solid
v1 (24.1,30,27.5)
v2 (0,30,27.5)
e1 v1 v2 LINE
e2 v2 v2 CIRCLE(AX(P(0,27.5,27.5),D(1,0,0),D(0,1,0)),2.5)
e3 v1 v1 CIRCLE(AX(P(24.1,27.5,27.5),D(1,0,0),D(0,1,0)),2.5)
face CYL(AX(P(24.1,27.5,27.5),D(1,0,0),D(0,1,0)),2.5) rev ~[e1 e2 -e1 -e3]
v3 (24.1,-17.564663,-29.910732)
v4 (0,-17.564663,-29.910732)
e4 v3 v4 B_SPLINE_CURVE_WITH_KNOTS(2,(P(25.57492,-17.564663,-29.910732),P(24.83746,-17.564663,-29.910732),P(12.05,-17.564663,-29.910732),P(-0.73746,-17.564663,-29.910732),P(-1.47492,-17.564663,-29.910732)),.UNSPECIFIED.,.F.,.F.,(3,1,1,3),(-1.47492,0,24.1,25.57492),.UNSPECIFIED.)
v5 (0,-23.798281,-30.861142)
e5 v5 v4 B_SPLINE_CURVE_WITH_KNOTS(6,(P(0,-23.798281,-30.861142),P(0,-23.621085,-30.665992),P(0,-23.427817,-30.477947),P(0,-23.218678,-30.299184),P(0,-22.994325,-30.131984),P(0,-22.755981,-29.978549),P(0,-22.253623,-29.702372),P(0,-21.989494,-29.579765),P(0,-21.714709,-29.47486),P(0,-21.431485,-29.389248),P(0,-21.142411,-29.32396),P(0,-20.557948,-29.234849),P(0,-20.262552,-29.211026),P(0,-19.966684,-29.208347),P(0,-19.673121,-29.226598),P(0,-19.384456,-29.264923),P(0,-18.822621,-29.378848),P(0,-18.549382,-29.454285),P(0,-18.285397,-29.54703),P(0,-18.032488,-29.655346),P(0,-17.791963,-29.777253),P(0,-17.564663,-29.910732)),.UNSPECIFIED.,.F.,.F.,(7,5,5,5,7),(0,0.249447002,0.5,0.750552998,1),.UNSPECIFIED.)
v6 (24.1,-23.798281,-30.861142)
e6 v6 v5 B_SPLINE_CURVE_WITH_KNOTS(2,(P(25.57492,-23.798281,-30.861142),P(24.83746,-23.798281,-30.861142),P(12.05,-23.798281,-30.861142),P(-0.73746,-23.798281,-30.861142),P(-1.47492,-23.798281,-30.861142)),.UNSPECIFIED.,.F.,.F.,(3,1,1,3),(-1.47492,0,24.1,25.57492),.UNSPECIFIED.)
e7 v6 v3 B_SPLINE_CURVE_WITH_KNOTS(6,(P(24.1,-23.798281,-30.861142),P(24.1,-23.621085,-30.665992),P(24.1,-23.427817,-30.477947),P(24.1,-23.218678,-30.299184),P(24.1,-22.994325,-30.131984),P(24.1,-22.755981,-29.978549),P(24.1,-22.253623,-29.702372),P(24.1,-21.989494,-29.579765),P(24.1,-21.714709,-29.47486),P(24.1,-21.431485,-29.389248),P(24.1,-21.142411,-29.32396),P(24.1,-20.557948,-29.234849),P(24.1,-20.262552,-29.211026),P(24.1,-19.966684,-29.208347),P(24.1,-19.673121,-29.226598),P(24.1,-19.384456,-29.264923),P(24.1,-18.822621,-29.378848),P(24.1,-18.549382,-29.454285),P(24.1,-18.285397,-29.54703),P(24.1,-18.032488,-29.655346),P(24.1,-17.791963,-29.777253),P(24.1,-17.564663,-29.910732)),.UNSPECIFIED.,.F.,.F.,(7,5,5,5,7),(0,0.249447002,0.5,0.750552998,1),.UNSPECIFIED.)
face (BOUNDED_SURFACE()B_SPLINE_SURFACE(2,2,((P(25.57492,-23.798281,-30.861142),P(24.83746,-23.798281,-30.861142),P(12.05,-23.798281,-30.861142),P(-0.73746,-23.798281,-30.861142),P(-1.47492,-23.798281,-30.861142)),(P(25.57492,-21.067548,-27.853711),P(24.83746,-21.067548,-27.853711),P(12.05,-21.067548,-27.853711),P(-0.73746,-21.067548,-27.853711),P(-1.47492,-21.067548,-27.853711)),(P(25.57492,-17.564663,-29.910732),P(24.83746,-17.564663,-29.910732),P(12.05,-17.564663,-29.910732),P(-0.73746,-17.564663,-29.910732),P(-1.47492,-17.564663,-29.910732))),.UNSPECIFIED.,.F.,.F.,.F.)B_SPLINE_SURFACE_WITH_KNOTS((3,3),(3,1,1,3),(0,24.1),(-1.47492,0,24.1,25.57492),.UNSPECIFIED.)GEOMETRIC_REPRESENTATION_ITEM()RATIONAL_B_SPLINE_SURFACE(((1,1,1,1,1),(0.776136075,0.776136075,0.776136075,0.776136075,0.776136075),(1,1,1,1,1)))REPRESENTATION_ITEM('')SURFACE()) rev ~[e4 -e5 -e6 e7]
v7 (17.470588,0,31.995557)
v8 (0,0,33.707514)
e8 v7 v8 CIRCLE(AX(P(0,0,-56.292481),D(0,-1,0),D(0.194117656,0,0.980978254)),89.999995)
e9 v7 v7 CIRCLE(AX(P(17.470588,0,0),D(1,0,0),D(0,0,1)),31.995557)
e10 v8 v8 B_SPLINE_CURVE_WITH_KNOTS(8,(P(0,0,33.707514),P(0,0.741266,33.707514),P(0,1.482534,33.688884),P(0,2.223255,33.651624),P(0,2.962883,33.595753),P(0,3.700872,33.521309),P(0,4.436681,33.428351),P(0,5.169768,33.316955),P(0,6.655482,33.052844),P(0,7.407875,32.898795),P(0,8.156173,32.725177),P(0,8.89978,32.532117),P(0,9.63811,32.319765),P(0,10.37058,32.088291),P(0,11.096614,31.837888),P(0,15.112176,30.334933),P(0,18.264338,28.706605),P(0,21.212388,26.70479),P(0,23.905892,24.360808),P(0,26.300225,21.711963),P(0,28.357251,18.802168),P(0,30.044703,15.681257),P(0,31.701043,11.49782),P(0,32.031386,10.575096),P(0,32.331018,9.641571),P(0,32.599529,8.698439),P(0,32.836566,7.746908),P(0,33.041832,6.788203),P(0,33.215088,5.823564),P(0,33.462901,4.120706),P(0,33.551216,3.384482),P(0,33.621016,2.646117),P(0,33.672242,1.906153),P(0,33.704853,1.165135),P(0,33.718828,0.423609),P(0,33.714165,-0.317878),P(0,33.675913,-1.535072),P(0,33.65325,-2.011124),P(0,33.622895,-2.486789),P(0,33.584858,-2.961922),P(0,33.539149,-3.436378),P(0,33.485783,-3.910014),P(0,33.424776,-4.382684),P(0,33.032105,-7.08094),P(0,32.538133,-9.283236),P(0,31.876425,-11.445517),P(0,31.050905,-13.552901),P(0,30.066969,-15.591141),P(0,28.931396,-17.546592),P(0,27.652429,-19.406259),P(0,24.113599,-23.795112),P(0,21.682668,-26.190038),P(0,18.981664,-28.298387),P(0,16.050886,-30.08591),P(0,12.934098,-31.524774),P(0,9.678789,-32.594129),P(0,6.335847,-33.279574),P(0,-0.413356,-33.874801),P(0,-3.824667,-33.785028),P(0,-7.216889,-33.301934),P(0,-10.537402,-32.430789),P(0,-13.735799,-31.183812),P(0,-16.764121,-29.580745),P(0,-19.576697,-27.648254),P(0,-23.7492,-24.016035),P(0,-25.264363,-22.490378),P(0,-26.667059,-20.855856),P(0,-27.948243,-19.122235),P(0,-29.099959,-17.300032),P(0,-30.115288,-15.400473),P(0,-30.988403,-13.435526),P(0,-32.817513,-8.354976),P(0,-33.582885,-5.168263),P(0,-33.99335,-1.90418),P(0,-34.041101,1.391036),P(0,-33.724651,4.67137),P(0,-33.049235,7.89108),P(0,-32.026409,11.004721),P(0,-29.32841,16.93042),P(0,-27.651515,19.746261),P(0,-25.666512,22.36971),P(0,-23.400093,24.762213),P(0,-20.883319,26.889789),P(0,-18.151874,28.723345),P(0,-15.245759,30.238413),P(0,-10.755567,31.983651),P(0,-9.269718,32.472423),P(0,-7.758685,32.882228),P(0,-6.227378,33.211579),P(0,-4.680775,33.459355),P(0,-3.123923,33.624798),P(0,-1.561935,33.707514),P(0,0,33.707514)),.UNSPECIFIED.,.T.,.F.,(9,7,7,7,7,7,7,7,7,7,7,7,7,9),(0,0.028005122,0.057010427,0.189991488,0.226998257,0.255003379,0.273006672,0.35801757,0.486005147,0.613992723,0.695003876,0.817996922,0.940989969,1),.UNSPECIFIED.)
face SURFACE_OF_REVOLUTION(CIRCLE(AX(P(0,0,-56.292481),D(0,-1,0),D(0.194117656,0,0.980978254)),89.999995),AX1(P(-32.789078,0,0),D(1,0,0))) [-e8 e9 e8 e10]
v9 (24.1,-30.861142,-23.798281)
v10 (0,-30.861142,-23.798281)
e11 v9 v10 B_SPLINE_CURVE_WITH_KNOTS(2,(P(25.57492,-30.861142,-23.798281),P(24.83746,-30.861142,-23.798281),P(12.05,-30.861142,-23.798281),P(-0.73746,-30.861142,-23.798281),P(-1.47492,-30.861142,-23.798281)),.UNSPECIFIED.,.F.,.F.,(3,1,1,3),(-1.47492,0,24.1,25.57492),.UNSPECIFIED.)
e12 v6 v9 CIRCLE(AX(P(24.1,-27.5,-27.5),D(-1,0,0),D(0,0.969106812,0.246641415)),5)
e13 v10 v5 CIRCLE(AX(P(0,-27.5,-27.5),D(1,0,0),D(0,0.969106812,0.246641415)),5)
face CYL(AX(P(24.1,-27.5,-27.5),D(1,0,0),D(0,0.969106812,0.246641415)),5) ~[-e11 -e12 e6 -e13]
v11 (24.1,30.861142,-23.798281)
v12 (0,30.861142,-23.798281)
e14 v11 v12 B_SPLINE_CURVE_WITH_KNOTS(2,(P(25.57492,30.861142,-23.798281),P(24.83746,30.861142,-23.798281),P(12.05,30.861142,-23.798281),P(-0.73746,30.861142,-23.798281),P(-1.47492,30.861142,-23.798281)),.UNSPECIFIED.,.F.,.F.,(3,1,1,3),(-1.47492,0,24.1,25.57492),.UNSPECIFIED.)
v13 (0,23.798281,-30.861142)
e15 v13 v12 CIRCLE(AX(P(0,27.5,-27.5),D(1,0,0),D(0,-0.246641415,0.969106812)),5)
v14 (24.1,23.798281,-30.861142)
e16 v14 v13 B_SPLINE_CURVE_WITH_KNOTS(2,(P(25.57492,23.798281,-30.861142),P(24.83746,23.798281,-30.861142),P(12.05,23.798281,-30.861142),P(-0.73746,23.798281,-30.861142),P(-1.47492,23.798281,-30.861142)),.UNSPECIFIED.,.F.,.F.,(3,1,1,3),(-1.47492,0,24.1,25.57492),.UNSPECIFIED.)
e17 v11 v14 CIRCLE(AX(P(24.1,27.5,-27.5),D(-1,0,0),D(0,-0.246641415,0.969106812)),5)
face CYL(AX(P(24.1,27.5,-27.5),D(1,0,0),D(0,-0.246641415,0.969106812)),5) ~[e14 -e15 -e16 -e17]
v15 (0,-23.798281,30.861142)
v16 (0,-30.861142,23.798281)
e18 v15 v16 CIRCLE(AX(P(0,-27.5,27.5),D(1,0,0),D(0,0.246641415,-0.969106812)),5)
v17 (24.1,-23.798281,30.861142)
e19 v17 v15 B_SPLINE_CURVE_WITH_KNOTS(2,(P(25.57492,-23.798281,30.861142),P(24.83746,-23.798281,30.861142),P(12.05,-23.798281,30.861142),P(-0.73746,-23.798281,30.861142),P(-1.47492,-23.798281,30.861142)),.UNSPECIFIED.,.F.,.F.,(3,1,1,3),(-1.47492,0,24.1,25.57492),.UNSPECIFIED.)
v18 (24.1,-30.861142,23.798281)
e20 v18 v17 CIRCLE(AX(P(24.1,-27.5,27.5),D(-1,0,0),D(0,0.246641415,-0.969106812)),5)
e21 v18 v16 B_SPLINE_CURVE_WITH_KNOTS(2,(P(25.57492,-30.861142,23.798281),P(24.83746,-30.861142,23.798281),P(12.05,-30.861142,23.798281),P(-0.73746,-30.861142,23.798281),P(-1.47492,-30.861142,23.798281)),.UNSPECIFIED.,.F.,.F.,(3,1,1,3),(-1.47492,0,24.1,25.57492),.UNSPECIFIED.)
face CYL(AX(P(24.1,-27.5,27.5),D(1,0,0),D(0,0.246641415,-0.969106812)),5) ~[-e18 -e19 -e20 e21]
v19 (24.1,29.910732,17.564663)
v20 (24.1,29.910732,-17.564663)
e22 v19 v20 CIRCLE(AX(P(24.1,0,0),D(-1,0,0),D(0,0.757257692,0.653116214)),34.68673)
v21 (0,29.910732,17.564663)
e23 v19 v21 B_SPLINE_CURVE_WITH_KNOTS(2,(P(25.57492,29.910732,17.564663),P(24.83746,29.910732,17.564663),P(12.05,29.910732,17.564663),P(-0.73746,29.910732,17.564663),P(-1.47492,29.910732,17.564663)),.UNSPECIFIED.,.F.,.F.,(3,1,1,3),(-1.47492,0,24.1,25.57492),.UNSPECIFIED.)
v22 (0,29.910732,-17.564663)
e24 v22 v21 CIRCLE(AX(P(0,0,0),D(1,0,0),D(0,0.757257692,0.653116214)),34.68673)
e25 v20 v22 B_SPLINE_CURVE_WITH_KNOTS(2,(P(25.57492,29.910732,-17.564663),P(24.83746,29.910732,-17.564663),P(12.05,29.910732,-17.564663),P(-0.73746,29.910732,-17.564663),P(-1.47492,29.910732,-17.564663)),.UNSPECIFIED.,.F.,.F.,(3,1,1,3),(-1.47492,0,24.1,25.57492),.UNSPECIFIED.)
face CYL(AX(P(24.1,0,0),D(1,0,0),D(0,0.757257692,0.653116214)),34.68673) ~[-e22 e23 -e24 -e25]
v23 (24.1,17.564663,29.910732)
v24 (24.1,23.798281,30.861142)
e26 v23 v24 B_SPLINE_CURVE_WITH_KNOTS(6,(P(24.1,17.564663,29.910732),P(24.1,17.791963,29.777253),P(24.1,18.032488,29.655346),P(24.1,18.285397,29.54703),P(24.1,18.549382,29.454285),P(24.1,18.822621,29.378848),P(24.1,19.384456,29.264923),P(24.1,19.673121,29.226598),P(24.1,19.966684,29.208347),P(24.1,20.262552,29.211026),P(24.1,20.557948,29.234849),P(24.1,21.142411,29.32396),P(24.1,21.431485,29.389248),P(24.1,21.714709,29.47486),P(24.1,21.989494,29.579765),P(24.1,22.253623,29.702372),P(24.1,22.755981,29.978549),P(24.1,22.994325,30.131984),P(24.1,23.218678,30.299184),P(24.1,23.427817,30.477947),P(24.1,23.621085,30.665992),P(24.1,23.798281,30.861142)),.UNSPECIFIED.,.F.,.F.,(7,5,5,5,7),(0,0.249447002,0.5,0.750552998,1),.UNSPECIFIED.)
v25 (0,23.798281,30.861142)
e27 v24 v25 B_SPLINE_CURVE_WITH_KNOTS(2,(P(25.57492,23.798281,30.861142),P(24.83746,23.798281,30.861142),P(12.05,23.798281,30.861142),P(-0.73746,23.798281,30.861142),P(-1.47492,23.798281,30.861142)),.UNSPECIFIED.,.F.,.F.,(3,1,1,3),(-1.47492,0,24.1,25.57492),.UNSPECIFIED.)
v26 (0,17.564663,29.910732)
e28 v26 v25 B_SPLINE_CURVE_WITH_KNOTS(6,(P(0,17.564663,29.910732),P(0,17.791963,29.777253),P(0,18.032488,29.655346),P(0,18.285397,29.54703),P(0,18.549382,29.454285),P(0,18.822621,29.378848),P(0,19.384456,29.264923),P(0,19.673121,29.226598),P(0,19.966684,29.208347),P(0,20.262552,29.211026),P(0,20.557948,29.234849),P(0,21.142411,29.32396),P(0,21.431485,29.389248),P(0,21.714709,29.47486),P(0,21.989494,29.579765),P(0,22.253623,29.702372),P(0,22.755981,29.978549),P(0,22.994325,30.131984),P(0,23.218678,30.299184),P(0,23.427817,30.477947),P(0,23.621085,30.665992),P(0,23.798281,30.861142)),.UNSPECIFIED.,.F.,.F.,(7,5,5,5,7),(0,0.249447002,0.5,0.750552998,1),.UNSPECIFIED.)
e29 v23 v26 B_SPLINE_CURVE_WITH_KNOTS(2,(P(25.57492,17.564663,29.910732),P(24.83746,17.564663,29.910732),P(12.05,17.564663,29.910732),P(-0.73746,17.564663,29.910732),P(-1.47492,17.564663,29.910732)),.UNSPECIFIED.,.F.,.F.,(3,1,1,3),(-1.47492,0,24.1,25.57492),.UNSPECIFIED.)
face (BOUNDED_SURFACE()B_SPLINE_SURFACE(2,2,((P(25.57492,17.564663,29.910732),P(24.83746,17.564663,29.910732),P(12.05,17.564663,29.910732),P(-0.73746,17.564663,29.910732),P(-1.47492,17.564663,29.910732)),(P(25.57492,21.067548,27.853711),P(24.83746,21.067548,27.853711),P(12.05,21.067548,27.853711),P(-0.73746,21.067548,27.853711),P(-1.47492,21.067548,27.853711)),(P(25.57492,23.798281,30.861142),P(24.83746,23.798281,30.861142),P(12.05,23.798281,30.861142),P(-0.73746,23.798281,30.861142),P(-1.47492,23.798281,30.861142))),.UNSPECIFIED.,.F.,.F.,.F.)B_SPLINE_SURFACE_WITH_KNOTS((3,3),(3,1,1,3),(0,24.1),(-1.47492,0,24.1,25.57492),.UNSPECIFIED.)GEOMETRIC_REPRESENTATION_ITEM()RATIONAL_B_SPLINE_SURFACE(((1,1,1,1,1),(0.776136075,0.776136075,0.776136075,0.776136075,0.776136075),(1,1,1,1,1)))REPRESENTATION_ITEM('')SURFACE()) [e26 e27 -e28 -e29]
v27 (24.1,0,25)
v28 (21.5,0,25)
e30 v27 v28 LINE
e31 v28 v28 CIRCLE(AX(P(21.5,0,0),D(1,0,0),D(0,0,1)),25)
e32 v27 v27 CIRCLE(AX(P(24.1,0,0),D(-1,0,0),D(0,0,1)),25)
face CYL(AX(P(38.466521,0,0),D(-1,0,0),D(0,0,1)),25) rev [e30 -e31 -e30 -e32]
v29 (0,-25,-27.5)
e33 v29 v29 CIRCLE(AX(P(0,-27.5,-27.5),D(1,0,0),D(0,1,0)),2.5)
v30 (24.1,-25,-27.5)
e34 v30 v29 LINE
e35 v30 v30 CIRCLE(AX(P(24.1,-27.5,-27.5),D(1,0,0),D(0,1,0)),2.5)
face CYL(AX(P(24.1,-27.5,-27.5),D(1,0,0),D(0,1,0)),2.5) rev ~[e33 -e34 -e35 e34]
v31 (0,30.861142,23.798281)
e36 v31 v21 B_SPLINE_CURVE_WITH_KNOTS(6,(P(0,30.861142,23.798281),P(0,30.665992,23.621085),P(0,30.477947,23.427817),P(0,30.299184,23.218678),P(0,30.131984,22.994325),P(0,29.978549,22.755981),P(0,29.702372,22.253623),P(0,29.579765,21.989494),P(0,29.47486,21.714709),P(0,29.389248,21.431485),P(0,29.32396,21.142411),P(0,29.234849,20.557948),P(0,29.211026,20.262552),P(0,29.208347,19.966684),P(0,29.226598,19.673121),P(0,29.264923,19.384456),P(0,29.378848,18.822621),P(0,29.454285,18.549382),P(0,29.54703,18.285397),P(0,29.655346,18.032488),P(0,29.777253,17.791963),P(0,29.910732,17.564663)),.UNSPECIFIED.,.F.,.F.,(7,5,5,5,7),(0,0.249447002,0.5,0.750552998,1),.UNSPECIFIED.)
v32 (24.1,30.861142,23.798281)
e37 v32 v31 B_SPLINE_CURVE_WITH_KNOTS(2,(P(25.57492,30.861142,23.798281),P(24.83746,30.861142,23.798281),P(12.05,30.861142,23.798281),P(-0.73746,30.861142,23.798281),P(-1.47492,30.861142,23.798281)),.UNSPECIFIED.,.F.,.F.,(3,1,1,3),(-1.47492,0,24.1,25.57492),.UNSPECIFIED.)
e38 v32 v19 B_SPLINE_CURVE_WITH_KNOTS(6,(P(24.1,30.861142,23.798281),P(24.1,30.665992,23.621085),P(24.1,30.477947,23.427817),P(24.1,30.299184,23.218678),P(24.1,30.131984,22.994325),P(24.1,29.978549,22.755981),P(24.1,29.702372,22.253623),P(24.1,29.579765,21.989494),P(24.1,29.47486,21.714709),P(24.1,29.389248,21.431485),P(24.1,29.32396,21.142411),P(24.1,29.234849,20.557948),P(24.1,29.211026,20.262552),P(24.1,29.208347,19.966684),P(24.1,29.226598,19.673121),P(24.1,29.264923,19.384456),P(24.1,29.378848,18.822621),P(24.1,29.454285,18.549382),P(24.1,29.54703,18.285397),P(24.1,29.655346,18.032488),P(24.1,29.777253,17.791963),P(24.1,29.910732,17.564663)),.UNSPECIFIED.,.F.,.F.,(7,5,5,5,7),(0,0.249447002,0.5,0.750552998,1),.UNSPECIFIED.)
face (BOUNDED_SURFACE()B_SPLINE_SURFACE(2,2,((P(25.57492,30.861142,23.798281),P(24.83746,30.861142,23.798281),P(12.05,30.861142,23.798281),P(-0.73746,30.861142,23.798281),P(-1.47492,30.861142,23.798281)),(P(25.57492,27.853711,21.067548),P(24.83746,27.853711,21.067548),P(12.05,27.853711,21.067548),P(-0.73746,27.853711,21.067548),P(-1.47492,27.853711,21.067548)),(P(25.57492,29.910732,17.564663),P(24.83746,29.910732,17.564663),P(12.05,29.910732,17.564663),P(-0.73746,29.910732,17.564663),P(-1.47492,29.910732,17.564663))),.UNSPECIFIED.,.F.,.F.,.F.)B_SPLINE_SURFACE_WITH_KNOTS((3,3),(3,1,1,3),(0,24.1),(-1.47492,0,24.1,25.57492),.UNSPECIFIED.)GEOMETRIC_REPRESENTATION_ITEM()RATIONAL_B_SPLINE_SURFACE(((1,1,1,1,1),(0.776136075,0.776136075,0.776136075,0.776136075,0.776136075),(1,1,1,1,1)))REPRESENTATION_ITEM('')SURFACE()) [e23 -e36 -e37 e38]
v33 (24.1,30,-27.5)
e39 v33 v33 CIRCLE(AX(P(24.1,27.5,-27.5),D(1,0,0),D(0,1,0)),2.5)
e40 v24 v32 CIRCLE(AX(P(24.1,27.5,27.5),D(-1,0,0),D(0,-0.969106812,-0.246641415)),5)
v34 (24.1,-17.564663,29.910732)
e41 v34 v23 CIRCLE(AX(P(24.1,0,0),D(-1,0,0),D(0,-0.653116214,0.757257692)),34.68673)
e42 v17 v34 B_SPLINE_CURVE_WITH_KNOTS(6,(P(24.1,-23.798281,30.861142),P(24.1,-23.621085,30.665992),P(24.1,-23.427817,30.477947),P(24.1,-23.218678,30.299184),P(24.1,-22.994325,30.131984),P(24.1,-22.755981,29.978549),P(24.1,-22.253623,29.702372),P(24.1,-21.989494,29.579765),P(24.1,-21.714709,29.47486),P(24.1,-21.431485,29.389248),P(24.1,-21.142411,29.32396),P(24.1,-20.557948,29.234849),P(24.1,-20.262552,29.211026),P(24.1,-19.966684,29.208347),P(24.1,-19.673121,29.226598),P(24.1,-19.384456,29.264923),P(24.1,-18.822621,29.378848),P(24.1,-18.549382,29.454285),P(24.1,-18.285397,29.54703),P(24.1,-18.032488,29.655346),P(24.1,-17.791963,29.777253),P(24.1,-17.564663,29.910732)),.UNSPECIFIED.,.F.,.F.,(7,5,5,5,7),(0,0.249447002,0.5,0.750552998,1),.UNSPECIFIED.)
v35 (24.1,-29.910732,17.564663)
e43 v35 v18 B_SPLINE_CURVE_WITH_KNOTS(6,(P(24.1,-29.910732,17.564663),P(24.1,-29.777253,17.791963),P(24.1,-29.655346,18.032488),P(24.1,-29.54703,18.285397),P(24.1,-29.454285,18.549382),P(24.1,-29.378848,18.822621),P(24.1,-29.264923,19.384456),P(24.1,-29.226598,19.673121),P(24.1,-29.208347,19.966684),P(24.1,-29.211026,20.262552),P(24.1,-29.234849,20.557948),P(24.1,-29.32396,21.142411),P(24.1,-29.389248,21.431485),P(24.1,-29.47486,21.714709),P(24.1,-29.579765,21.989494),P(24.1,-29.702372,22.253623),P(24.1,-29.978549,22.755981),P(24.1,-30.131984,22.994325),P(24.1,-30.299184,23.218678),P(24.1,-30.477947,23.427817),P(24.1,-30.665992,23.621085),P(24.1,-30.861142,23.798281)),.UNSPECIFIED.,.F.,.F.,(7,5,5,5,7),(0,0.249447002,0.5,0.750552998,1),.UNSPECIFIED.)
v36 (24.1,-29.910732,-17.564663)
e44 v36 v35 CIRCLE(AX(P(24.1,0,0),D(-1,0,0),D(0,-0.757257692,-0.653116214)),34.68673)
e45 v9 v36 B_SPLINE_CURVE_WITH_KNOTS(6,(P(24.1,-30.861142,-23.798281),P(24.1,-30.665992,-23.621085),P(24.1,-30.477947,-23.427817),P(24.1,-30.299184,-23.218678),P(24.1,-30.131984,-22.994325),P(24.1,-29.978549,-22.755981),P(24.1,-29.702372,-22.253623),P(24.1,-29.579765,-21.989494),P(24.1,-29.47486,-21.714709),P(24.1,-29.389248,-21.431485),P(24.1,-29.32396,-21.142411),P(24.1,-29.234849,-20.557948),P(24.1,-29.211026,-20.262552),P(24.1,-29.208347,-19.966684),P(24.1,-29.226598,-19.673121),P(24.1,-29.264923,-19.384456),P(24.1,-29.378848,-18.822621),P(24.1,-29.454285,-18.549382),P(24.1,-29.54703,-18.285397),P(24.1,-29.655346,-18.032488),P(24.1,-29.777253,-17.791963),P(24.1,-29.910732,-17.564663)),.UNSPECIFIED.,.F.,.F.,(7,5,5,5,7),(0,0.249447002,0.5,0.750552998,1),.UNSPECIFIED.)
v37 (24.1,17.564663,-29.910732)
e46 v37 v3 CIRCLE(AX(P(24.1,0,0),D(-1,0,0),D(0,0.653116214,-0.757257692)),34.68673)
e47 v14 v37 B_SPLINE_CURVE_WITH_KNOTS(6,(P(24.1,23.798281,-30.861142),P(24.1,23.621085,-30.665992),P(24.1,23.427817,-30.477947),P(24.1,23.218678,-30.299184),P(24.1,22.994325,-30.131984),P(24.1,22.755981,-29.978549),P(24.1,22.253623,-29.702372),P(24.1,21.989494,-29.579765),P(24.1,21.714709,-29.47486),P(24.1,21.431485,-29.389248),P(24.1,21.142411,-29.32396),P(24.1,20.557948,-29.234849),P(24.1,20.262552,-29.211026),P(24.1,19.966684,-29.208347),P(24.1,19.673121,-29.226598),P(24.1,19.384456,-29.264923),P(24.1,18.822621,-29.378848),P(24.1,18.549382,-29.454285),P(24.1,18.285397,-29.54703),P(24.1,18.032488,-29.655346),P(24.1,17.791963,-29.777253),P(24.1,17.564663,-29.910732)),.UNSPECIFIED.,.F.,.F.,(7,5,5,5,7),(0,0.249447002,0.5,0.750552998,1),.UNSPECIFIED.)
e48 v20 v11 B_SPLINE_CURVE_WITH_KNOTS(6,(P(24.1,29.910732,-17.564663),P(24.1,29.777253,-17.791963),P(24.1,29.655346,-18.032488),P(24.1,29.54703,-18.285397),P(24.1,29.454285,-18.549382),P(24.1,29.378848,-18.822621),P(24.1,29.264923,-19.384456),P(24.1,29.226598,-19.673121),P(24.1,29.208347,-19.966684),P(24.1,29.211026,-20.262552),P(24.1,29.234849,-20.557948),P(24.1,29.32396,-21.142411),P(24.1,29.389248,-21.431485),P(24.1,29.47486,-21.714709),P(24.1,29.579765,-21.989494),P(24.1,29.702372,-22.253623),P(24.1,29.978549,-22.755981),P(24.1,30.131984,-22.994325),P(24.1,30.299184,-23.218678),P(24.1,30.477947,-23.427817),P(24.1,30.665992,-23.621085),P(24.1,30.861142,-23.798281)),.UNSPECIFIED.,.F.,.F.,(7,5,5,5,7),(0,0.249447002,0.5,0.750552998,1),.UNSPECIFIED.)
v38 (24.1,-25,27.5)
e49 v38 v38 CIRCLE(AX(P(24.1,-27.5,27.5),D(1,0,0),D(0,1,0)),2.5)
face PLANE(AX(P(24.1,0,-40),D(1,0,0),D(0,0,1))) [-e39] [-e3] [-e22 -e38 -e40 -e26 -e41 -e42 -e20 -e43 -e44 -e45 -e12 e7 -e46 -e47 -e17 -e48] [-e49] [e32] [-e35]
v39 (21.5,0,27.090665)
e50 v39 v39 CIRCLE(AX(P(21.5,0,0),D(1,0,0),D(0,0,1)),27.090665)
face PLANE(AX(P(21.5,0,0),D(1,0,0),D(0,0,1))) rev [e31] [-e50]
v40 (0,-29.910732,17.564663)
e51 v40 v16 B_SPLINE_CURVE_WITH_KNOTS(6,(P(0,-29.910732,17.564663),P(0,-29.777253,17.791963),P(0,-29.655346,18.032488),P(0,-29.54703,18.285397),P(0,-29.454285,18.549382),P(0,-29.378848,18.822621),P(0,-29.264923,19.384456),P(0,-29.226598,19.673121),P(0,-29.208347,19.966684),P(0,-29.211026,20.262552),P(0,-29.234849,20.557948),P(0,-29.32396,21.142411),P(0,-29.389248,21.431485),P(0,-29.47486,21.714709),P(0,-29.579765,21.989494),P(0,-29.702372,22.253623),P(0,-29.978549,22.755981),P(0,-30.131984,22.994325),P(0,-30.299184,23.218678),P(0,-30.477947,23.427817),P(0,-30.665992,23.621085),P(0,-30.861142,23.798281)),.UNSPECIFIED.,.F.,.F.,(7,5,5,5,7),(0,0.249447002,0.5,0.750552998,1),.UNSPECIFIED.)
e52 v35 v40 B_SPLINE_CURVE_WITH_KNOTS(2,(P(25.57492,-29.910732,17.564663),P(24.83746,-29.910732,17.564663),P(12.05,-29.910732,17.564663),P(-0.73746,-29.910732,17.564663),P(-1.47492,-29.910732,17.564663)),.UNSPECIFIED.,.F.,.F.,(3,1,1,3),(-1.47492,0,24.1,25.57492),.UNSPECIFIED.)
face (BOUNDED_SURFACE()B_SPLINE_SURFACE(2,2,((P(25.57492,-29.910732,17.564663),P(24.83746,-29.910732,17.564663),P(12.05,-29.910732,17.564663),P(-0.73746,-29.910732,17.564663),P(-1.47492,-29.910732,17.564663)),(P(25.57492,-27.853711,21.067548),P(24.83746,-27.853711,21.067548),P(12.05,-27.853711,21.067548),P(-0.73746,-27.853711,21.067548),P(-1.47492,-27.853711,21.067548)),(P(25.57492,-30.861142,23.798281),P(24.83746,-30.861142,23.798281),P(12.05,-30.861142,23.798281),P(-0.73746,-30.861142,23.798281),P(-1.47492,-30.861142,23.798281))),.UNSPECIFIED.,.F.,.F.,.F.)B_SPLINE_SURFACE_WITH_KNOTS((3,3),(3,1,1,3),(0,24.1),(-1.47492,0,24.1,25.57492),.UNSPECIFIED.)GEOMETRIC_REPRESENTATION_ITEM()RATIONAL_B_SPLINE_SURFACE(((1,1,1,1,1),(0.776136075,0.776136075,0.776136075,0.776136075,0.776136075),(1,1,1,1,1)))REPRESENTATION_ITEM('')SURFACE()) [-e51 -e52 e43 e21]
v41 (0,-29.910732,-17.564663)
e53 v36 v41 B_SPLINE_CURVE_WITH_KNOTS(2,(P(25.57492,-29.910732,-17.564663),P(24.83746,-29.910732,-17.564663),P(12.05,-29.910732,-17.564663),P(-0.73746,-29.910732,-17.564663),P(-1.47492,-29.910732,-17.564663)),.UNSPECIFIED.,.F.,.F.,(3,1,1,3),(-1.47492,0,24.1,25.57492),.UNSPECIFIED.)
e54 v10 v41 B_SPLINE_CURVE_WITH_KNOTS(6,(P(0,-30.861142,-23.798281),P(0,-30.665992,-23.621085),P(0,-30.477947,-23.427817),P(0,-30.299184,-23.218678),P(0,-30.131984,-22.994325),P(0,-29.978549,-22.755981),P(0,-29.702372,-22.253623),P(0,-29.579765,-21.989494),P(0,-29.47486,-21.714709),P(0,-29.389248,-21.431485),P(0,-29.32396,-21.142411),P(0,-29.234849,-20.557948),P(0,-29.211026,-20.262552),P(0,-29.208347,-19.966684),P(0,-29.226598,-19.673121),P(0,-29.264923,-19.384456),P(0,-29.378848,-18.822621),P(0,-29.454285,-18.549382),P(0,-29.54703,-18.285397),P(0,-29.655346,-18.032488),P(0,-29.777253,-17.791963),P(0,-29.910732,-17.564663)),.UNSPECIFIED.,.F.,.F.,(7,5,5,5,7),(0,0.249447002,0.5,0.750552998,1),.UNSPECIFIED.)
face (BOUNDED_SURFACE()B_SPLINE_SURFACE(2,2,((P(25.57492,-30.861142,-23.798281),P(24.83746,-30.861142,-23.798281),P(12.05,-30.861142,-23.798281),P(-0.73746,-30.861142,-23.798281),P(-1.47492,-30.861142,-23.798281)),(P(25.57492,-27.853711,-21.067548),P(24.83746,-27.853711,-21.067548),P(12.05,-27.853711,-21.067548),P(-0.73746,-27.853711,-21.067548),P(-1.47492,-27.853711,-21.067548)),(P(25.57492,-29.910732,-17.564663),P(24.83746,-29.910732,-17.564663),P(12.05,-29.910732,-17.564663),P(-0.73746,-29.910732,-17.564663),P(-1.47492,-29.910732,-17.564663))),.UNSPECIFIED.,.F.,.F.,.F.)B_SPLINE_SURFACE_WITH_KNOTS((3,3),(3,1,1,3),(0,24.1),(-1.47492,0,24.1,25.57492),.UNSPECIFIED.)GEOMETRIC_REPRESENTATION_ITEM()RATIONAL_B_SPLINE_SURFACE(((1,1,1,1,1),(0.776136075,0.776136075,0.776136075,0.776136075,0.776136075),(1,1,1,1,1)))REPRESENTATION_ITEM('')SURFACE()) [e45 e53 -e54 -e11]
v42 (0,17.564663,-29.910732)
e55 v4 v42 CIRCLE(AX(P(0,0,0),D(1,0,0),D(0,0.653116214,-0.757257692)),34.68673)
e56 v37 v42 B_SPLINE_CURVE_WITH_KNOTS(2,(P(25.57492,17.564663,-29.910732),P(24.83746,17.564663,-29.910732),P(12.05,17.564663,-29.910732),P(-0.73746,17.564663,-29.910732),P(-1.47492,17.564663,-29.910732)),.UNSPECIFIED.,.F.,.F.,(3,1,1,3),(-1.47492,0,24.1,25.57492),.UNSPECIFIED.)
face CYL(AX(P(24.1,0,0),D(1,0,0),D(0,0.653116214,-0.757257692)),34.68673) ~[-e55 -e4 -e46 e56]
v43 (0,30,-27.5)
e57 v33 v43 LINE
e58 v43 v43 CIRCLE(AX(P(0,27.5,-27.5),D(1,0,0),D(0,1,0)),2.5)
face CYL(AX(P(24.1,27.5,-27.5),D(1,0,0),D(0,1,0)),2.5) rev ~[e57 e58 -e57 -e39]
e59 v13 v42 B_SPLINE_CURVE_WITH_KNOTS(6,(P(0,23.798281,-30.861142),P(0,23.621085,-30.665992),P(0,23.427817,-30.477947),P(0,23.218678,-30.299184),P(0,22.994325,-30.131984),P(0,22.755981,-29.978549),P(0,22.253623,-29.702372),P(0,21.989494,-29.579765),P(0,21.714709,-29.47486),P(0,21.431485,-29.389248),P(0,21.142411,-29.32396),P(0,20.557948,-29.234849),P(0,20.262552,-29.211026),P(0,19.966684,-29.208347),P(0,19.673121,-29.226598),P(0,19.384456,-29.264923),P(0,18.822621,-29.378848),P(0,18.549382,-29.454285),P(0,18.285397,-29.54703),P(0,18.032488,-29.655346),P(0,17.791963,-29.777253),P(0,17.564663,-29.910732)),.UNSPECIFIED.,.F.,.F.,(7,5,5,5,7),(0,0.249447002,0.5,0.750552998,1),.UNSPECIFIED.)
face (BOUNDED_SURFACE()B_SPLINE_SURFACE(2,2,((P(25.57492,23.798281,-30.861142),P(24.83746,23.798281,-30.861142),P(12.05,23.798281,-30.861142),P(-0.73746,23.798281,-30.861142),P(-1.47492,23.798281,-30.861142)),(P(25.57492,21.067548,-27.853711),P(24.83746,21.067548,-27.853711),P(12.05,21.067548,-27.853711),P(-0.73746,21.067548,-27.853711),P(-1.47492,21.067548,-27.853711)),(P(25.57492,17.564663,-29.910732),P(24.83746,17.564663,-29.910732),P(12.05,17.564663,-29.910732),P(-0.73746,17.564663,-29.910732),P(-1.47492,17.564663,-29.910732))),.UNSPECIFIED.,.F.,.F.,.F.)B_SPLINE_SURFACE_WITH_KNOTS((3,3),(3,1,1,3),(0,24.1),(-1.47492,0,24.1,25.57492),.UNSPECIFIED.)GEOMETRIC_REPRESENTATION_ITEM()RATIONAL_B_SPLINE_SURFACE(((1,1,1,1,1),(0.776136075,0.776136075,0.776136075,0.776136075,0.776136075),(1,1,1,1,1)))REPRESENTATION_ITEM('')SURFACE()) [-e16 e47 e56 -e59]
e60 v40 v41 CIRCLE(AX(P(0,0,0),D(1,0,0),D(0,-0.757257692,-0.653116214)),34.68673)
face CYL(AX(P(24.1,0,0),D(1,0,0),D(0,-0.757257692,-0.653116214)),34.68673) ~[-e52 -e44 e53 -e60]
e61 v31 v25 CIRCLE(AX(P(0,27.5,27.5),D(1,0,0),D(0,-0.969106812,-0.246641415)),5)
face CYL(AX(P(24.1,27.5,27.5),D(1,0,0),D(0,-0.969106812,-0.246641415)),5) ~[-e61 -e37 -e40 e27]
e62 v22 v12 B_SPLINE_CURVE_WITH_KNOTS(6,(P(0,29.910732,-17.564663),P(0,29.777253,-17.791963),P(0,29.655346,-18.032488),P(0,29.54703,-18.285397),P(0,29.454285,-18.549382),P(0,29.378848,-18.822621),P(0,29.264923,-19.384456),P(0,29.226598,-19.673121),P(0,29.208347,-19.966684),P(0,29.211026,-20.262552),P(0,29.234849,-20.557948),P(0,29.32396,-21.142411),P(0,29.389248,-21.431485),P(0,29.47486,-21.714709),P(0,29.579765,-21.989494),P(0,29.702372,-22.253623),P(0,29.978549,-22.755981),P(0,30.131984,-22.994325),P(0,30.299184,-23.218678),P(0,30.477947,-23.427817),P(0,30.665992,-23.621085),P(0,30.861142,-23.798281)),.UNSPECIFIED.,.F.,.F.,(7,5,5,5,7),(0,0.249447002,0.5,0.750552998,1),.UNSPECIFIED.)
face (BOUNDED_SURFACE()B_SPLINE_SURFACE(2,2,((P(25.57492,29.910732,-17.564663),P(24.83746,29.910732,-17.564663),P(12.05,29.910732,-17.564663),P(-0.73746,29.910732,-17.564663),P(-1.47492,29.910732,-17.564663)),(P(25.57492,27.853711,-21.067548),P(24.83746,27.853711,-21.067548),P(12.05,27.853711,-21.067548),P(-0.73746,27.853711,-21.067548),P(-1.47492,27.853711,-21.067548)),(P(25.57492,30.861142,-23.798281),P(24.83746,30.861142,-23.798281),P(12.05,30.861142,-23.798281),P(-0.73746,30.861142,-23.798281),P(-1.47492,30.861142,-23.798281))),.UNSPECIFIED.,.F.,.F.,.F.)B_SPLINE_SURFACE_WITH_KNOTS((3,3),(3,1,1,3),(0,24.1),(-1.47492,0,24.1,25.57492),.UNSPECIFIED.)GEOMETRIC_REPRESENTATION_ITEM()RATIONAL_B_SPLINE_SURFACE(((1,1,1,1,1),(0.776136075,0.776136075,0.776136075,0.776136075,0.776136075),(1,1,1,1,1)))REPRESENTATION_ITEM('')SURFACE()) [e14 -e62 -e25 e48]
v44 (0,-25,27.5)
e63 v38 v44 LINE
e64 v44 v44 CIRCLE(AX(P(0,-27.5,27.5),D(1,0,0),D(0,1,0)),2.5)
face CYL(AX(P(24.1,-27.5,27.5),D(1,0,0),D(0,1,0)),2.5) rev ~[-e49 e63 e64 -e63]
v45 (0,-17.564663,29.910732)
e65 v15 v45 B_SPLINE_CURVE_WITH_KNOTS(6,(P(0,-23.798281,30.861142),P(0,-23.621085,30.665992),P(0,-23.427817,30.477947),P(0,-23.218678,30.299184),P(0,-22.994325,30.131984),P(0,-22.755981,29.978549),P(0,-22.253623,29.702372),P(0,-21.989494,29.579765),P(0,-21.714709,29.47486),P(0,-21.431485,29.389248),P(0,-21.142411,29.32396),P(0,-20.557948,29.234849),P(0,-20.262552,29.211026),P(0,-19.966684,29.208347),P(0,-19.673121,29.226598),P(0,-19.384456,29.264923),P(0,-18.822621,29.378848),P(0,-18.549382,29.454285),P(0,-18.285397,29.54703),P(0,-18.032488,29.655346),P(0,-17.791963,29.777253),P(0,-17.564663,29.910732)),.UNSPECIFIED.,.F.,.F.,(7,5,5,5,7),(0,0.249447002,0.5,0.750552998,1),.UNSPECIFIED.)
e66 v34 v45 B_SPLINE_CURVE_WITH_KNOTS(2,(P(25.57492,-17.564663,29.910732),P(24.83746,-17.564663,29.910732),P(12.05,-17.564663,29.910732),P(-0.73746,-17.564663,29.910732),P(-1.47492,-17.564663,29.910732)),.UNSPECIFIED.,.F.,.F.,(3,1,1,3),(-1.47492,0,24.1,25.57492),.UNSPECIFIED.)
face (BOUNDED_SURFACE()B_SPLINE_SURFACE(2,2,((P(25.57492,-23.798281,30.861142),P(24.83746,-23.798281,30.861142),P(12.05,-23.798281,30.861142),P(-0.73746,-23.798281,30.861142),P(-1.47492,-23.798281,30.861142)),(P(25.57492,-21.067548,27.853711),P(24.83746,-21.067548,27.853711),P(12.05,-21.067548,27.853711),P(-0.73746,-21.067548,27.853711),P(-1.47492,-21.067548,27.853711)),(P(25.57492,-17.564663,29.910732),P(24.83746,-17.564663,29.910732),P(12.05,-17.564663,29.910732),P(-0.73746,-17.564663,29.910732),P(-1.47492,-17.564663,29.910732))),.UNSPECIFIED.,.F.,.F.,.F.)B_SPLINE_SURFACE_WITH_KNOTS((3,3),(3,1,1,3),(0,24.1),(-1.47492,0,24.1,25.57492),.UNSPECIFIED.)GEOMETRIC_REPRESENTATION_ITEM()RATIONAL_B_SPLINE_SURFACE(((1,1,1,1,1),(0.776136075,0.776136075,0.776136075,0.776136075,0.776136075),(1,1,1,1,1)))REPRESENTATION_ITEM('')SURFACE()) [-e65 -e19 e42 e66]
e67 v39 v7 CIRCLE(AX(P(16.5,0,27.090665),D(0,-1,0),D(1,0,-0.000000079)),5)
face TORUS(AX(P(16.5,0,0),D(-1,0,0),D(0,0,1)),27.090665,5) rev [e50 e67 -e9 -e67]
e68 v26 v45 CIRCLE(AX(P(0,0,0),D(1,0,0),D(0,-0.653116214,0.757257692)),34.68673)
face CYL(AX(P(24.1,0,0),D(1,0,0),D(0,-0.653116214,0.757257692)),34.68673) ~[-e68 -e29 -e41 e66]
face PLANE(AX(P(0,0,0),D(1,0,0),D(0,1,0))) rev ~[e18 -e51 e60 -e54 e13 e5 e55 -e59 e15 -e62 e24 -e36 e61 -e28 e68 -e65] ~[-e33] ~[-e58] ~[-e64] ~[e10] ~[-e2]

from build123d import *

# Parameters (mm, degrees)
F0_W          = 48.2
F0_H          = 80
F1_DEPTH      = 40
F1_DEPTH_BACK = 40
F4_R          = 64.280801
F5_DEPTH      = 40
F6_R          = 2.5
F7_DEPTH      = 48.201
F8_W          = 100
F8_H          = 100
F9_DEPTH      = 24.101
F10_R         = 5


with BuildPart() as f1:
    # F0 (on Front) → F1 (new body, two sides)
    with BuildSketch(Plane.XZ) as f1_sk:
        Rectangle(F0_W, F0_H)
    extrude(amount=F1_DEPTH)
    extrude(f1_sk.sketch, amount=-F1_DEPTH_BACK)

    # F2 (on Front) → F3 (revolve, cut)
    with BuildSketch(Plane.XZ):
        Polygon((21.5, 25), (-21.5, 25), (-38.466521, 25), (-38.466521, 0), (-21.5, 0), (21.5, 0), (38.466521, 0), (38.466521, 25), align=None)
        with BuildLine():
            Line((-21.5, 27.090665), (-21.5, 25))
            Line((-21.5, 25), (21.5, 25))
            Line((21.5, 25), (21.5, 27.090665))
            ThreePointArc((21.5, 27.090665), (20.363479, 30.264548), (17.470588, 31.995557))
            ThreePointArc((17.470588, 31.995557), (0, 33.707514), (-17.470588, 31.995557))
            ThreePointArc((-17.470588, 31.995557), (-20.363479, 30.264548), (-21.5, 27.090665))
        make_face()
    revolve(axis=Axis((-32.789078, 0, 0), (1, 0, 0)), mode=Mode.SUBTRACT)

    # F4 (on face) → F5 (cut)
    with BuildSketch(Plane.YZ.offset(24.1)):
        Circle(F4_R)
        with BuildLine():
            ThreePointArc((-22.654466, -26.266793), (-31.035534, -31.035534), (-26.266793, -22.654466))
            ThreePointArc((-26.266793, -22.654466), (-34.68673, 0), (-26.266793, 22.654466))
            ThreePointArc((-26.266793, 22.654466), (-31.035534, 31.035534), (-22.654466, 26.266793))
            ThreePointArc((-22.654466, 26.266793), (0, 34.68673), (22.654466, 26.266793))
            ThreePointArc((22.654466, 26.266793), (31.035534, 31.035534), (26.266793, 22.654466))
            ThreePointArc((26.266793, 22.654466), (34.68673, 0), (26.266793, -22.654466))
            ThreePointArc((26.266793, -22.654466), (31.035534, -31.035534), (22.654466, -26.266793))
            ThreePointArc((22.654466, -26.266793), (0, -34.68673), (-22.654466, -26.266793))
        make_face(mode=Mode.SUBTRACT)
    extrude(amount=-F5_DEPTH, mode=Mode.SUBTRACT)

    # F6 (on face) → F7 (cut, through all)
    with BuildSketch(Plane.YZ.offset(24.1)):
        with Locations((-27.5, 27.5)):
            Circle(F6_R)
        with Locations((27.5, 27.5)):
            Circle(F6_R)
        with Locations((-27.5, -27.5)):
            Circle(F6_R)
        with Locations((27.5, -27.5)):
            Circle(F6_R)
    extrude(amount=-F7_DEPTH, mode=Mode.SUBTRACT)

    # F8 (on Right) → F9 (cut, through all)
    with BuildSketch(Plane.YZ):
        Rectangle(F8_W, F8_H)
    extrude(amount=-F9_DEPTH, mode=Mode.SUBTRACT)

    # F10
    f10_edges = [f1.edges().sort_by_distance(p)[0] for p in [
        (12.05, -26.266793, -22.654466),
        (12.05, -26.266793, 22.654466),
        (12.05, 22.654466, 26.266793),
        (12.05, -22.654466, 26.266793),
        (12.05, 26.266793, 22.654466),
        (12.05, 26.266793, -22.654466),
        (12.05, 22.654466, -26.266793),
        (12.05, -22.654466, -26.266793),
    ]]
    fillet(f10_edges, radius=F10_R)


solid = f1.part
